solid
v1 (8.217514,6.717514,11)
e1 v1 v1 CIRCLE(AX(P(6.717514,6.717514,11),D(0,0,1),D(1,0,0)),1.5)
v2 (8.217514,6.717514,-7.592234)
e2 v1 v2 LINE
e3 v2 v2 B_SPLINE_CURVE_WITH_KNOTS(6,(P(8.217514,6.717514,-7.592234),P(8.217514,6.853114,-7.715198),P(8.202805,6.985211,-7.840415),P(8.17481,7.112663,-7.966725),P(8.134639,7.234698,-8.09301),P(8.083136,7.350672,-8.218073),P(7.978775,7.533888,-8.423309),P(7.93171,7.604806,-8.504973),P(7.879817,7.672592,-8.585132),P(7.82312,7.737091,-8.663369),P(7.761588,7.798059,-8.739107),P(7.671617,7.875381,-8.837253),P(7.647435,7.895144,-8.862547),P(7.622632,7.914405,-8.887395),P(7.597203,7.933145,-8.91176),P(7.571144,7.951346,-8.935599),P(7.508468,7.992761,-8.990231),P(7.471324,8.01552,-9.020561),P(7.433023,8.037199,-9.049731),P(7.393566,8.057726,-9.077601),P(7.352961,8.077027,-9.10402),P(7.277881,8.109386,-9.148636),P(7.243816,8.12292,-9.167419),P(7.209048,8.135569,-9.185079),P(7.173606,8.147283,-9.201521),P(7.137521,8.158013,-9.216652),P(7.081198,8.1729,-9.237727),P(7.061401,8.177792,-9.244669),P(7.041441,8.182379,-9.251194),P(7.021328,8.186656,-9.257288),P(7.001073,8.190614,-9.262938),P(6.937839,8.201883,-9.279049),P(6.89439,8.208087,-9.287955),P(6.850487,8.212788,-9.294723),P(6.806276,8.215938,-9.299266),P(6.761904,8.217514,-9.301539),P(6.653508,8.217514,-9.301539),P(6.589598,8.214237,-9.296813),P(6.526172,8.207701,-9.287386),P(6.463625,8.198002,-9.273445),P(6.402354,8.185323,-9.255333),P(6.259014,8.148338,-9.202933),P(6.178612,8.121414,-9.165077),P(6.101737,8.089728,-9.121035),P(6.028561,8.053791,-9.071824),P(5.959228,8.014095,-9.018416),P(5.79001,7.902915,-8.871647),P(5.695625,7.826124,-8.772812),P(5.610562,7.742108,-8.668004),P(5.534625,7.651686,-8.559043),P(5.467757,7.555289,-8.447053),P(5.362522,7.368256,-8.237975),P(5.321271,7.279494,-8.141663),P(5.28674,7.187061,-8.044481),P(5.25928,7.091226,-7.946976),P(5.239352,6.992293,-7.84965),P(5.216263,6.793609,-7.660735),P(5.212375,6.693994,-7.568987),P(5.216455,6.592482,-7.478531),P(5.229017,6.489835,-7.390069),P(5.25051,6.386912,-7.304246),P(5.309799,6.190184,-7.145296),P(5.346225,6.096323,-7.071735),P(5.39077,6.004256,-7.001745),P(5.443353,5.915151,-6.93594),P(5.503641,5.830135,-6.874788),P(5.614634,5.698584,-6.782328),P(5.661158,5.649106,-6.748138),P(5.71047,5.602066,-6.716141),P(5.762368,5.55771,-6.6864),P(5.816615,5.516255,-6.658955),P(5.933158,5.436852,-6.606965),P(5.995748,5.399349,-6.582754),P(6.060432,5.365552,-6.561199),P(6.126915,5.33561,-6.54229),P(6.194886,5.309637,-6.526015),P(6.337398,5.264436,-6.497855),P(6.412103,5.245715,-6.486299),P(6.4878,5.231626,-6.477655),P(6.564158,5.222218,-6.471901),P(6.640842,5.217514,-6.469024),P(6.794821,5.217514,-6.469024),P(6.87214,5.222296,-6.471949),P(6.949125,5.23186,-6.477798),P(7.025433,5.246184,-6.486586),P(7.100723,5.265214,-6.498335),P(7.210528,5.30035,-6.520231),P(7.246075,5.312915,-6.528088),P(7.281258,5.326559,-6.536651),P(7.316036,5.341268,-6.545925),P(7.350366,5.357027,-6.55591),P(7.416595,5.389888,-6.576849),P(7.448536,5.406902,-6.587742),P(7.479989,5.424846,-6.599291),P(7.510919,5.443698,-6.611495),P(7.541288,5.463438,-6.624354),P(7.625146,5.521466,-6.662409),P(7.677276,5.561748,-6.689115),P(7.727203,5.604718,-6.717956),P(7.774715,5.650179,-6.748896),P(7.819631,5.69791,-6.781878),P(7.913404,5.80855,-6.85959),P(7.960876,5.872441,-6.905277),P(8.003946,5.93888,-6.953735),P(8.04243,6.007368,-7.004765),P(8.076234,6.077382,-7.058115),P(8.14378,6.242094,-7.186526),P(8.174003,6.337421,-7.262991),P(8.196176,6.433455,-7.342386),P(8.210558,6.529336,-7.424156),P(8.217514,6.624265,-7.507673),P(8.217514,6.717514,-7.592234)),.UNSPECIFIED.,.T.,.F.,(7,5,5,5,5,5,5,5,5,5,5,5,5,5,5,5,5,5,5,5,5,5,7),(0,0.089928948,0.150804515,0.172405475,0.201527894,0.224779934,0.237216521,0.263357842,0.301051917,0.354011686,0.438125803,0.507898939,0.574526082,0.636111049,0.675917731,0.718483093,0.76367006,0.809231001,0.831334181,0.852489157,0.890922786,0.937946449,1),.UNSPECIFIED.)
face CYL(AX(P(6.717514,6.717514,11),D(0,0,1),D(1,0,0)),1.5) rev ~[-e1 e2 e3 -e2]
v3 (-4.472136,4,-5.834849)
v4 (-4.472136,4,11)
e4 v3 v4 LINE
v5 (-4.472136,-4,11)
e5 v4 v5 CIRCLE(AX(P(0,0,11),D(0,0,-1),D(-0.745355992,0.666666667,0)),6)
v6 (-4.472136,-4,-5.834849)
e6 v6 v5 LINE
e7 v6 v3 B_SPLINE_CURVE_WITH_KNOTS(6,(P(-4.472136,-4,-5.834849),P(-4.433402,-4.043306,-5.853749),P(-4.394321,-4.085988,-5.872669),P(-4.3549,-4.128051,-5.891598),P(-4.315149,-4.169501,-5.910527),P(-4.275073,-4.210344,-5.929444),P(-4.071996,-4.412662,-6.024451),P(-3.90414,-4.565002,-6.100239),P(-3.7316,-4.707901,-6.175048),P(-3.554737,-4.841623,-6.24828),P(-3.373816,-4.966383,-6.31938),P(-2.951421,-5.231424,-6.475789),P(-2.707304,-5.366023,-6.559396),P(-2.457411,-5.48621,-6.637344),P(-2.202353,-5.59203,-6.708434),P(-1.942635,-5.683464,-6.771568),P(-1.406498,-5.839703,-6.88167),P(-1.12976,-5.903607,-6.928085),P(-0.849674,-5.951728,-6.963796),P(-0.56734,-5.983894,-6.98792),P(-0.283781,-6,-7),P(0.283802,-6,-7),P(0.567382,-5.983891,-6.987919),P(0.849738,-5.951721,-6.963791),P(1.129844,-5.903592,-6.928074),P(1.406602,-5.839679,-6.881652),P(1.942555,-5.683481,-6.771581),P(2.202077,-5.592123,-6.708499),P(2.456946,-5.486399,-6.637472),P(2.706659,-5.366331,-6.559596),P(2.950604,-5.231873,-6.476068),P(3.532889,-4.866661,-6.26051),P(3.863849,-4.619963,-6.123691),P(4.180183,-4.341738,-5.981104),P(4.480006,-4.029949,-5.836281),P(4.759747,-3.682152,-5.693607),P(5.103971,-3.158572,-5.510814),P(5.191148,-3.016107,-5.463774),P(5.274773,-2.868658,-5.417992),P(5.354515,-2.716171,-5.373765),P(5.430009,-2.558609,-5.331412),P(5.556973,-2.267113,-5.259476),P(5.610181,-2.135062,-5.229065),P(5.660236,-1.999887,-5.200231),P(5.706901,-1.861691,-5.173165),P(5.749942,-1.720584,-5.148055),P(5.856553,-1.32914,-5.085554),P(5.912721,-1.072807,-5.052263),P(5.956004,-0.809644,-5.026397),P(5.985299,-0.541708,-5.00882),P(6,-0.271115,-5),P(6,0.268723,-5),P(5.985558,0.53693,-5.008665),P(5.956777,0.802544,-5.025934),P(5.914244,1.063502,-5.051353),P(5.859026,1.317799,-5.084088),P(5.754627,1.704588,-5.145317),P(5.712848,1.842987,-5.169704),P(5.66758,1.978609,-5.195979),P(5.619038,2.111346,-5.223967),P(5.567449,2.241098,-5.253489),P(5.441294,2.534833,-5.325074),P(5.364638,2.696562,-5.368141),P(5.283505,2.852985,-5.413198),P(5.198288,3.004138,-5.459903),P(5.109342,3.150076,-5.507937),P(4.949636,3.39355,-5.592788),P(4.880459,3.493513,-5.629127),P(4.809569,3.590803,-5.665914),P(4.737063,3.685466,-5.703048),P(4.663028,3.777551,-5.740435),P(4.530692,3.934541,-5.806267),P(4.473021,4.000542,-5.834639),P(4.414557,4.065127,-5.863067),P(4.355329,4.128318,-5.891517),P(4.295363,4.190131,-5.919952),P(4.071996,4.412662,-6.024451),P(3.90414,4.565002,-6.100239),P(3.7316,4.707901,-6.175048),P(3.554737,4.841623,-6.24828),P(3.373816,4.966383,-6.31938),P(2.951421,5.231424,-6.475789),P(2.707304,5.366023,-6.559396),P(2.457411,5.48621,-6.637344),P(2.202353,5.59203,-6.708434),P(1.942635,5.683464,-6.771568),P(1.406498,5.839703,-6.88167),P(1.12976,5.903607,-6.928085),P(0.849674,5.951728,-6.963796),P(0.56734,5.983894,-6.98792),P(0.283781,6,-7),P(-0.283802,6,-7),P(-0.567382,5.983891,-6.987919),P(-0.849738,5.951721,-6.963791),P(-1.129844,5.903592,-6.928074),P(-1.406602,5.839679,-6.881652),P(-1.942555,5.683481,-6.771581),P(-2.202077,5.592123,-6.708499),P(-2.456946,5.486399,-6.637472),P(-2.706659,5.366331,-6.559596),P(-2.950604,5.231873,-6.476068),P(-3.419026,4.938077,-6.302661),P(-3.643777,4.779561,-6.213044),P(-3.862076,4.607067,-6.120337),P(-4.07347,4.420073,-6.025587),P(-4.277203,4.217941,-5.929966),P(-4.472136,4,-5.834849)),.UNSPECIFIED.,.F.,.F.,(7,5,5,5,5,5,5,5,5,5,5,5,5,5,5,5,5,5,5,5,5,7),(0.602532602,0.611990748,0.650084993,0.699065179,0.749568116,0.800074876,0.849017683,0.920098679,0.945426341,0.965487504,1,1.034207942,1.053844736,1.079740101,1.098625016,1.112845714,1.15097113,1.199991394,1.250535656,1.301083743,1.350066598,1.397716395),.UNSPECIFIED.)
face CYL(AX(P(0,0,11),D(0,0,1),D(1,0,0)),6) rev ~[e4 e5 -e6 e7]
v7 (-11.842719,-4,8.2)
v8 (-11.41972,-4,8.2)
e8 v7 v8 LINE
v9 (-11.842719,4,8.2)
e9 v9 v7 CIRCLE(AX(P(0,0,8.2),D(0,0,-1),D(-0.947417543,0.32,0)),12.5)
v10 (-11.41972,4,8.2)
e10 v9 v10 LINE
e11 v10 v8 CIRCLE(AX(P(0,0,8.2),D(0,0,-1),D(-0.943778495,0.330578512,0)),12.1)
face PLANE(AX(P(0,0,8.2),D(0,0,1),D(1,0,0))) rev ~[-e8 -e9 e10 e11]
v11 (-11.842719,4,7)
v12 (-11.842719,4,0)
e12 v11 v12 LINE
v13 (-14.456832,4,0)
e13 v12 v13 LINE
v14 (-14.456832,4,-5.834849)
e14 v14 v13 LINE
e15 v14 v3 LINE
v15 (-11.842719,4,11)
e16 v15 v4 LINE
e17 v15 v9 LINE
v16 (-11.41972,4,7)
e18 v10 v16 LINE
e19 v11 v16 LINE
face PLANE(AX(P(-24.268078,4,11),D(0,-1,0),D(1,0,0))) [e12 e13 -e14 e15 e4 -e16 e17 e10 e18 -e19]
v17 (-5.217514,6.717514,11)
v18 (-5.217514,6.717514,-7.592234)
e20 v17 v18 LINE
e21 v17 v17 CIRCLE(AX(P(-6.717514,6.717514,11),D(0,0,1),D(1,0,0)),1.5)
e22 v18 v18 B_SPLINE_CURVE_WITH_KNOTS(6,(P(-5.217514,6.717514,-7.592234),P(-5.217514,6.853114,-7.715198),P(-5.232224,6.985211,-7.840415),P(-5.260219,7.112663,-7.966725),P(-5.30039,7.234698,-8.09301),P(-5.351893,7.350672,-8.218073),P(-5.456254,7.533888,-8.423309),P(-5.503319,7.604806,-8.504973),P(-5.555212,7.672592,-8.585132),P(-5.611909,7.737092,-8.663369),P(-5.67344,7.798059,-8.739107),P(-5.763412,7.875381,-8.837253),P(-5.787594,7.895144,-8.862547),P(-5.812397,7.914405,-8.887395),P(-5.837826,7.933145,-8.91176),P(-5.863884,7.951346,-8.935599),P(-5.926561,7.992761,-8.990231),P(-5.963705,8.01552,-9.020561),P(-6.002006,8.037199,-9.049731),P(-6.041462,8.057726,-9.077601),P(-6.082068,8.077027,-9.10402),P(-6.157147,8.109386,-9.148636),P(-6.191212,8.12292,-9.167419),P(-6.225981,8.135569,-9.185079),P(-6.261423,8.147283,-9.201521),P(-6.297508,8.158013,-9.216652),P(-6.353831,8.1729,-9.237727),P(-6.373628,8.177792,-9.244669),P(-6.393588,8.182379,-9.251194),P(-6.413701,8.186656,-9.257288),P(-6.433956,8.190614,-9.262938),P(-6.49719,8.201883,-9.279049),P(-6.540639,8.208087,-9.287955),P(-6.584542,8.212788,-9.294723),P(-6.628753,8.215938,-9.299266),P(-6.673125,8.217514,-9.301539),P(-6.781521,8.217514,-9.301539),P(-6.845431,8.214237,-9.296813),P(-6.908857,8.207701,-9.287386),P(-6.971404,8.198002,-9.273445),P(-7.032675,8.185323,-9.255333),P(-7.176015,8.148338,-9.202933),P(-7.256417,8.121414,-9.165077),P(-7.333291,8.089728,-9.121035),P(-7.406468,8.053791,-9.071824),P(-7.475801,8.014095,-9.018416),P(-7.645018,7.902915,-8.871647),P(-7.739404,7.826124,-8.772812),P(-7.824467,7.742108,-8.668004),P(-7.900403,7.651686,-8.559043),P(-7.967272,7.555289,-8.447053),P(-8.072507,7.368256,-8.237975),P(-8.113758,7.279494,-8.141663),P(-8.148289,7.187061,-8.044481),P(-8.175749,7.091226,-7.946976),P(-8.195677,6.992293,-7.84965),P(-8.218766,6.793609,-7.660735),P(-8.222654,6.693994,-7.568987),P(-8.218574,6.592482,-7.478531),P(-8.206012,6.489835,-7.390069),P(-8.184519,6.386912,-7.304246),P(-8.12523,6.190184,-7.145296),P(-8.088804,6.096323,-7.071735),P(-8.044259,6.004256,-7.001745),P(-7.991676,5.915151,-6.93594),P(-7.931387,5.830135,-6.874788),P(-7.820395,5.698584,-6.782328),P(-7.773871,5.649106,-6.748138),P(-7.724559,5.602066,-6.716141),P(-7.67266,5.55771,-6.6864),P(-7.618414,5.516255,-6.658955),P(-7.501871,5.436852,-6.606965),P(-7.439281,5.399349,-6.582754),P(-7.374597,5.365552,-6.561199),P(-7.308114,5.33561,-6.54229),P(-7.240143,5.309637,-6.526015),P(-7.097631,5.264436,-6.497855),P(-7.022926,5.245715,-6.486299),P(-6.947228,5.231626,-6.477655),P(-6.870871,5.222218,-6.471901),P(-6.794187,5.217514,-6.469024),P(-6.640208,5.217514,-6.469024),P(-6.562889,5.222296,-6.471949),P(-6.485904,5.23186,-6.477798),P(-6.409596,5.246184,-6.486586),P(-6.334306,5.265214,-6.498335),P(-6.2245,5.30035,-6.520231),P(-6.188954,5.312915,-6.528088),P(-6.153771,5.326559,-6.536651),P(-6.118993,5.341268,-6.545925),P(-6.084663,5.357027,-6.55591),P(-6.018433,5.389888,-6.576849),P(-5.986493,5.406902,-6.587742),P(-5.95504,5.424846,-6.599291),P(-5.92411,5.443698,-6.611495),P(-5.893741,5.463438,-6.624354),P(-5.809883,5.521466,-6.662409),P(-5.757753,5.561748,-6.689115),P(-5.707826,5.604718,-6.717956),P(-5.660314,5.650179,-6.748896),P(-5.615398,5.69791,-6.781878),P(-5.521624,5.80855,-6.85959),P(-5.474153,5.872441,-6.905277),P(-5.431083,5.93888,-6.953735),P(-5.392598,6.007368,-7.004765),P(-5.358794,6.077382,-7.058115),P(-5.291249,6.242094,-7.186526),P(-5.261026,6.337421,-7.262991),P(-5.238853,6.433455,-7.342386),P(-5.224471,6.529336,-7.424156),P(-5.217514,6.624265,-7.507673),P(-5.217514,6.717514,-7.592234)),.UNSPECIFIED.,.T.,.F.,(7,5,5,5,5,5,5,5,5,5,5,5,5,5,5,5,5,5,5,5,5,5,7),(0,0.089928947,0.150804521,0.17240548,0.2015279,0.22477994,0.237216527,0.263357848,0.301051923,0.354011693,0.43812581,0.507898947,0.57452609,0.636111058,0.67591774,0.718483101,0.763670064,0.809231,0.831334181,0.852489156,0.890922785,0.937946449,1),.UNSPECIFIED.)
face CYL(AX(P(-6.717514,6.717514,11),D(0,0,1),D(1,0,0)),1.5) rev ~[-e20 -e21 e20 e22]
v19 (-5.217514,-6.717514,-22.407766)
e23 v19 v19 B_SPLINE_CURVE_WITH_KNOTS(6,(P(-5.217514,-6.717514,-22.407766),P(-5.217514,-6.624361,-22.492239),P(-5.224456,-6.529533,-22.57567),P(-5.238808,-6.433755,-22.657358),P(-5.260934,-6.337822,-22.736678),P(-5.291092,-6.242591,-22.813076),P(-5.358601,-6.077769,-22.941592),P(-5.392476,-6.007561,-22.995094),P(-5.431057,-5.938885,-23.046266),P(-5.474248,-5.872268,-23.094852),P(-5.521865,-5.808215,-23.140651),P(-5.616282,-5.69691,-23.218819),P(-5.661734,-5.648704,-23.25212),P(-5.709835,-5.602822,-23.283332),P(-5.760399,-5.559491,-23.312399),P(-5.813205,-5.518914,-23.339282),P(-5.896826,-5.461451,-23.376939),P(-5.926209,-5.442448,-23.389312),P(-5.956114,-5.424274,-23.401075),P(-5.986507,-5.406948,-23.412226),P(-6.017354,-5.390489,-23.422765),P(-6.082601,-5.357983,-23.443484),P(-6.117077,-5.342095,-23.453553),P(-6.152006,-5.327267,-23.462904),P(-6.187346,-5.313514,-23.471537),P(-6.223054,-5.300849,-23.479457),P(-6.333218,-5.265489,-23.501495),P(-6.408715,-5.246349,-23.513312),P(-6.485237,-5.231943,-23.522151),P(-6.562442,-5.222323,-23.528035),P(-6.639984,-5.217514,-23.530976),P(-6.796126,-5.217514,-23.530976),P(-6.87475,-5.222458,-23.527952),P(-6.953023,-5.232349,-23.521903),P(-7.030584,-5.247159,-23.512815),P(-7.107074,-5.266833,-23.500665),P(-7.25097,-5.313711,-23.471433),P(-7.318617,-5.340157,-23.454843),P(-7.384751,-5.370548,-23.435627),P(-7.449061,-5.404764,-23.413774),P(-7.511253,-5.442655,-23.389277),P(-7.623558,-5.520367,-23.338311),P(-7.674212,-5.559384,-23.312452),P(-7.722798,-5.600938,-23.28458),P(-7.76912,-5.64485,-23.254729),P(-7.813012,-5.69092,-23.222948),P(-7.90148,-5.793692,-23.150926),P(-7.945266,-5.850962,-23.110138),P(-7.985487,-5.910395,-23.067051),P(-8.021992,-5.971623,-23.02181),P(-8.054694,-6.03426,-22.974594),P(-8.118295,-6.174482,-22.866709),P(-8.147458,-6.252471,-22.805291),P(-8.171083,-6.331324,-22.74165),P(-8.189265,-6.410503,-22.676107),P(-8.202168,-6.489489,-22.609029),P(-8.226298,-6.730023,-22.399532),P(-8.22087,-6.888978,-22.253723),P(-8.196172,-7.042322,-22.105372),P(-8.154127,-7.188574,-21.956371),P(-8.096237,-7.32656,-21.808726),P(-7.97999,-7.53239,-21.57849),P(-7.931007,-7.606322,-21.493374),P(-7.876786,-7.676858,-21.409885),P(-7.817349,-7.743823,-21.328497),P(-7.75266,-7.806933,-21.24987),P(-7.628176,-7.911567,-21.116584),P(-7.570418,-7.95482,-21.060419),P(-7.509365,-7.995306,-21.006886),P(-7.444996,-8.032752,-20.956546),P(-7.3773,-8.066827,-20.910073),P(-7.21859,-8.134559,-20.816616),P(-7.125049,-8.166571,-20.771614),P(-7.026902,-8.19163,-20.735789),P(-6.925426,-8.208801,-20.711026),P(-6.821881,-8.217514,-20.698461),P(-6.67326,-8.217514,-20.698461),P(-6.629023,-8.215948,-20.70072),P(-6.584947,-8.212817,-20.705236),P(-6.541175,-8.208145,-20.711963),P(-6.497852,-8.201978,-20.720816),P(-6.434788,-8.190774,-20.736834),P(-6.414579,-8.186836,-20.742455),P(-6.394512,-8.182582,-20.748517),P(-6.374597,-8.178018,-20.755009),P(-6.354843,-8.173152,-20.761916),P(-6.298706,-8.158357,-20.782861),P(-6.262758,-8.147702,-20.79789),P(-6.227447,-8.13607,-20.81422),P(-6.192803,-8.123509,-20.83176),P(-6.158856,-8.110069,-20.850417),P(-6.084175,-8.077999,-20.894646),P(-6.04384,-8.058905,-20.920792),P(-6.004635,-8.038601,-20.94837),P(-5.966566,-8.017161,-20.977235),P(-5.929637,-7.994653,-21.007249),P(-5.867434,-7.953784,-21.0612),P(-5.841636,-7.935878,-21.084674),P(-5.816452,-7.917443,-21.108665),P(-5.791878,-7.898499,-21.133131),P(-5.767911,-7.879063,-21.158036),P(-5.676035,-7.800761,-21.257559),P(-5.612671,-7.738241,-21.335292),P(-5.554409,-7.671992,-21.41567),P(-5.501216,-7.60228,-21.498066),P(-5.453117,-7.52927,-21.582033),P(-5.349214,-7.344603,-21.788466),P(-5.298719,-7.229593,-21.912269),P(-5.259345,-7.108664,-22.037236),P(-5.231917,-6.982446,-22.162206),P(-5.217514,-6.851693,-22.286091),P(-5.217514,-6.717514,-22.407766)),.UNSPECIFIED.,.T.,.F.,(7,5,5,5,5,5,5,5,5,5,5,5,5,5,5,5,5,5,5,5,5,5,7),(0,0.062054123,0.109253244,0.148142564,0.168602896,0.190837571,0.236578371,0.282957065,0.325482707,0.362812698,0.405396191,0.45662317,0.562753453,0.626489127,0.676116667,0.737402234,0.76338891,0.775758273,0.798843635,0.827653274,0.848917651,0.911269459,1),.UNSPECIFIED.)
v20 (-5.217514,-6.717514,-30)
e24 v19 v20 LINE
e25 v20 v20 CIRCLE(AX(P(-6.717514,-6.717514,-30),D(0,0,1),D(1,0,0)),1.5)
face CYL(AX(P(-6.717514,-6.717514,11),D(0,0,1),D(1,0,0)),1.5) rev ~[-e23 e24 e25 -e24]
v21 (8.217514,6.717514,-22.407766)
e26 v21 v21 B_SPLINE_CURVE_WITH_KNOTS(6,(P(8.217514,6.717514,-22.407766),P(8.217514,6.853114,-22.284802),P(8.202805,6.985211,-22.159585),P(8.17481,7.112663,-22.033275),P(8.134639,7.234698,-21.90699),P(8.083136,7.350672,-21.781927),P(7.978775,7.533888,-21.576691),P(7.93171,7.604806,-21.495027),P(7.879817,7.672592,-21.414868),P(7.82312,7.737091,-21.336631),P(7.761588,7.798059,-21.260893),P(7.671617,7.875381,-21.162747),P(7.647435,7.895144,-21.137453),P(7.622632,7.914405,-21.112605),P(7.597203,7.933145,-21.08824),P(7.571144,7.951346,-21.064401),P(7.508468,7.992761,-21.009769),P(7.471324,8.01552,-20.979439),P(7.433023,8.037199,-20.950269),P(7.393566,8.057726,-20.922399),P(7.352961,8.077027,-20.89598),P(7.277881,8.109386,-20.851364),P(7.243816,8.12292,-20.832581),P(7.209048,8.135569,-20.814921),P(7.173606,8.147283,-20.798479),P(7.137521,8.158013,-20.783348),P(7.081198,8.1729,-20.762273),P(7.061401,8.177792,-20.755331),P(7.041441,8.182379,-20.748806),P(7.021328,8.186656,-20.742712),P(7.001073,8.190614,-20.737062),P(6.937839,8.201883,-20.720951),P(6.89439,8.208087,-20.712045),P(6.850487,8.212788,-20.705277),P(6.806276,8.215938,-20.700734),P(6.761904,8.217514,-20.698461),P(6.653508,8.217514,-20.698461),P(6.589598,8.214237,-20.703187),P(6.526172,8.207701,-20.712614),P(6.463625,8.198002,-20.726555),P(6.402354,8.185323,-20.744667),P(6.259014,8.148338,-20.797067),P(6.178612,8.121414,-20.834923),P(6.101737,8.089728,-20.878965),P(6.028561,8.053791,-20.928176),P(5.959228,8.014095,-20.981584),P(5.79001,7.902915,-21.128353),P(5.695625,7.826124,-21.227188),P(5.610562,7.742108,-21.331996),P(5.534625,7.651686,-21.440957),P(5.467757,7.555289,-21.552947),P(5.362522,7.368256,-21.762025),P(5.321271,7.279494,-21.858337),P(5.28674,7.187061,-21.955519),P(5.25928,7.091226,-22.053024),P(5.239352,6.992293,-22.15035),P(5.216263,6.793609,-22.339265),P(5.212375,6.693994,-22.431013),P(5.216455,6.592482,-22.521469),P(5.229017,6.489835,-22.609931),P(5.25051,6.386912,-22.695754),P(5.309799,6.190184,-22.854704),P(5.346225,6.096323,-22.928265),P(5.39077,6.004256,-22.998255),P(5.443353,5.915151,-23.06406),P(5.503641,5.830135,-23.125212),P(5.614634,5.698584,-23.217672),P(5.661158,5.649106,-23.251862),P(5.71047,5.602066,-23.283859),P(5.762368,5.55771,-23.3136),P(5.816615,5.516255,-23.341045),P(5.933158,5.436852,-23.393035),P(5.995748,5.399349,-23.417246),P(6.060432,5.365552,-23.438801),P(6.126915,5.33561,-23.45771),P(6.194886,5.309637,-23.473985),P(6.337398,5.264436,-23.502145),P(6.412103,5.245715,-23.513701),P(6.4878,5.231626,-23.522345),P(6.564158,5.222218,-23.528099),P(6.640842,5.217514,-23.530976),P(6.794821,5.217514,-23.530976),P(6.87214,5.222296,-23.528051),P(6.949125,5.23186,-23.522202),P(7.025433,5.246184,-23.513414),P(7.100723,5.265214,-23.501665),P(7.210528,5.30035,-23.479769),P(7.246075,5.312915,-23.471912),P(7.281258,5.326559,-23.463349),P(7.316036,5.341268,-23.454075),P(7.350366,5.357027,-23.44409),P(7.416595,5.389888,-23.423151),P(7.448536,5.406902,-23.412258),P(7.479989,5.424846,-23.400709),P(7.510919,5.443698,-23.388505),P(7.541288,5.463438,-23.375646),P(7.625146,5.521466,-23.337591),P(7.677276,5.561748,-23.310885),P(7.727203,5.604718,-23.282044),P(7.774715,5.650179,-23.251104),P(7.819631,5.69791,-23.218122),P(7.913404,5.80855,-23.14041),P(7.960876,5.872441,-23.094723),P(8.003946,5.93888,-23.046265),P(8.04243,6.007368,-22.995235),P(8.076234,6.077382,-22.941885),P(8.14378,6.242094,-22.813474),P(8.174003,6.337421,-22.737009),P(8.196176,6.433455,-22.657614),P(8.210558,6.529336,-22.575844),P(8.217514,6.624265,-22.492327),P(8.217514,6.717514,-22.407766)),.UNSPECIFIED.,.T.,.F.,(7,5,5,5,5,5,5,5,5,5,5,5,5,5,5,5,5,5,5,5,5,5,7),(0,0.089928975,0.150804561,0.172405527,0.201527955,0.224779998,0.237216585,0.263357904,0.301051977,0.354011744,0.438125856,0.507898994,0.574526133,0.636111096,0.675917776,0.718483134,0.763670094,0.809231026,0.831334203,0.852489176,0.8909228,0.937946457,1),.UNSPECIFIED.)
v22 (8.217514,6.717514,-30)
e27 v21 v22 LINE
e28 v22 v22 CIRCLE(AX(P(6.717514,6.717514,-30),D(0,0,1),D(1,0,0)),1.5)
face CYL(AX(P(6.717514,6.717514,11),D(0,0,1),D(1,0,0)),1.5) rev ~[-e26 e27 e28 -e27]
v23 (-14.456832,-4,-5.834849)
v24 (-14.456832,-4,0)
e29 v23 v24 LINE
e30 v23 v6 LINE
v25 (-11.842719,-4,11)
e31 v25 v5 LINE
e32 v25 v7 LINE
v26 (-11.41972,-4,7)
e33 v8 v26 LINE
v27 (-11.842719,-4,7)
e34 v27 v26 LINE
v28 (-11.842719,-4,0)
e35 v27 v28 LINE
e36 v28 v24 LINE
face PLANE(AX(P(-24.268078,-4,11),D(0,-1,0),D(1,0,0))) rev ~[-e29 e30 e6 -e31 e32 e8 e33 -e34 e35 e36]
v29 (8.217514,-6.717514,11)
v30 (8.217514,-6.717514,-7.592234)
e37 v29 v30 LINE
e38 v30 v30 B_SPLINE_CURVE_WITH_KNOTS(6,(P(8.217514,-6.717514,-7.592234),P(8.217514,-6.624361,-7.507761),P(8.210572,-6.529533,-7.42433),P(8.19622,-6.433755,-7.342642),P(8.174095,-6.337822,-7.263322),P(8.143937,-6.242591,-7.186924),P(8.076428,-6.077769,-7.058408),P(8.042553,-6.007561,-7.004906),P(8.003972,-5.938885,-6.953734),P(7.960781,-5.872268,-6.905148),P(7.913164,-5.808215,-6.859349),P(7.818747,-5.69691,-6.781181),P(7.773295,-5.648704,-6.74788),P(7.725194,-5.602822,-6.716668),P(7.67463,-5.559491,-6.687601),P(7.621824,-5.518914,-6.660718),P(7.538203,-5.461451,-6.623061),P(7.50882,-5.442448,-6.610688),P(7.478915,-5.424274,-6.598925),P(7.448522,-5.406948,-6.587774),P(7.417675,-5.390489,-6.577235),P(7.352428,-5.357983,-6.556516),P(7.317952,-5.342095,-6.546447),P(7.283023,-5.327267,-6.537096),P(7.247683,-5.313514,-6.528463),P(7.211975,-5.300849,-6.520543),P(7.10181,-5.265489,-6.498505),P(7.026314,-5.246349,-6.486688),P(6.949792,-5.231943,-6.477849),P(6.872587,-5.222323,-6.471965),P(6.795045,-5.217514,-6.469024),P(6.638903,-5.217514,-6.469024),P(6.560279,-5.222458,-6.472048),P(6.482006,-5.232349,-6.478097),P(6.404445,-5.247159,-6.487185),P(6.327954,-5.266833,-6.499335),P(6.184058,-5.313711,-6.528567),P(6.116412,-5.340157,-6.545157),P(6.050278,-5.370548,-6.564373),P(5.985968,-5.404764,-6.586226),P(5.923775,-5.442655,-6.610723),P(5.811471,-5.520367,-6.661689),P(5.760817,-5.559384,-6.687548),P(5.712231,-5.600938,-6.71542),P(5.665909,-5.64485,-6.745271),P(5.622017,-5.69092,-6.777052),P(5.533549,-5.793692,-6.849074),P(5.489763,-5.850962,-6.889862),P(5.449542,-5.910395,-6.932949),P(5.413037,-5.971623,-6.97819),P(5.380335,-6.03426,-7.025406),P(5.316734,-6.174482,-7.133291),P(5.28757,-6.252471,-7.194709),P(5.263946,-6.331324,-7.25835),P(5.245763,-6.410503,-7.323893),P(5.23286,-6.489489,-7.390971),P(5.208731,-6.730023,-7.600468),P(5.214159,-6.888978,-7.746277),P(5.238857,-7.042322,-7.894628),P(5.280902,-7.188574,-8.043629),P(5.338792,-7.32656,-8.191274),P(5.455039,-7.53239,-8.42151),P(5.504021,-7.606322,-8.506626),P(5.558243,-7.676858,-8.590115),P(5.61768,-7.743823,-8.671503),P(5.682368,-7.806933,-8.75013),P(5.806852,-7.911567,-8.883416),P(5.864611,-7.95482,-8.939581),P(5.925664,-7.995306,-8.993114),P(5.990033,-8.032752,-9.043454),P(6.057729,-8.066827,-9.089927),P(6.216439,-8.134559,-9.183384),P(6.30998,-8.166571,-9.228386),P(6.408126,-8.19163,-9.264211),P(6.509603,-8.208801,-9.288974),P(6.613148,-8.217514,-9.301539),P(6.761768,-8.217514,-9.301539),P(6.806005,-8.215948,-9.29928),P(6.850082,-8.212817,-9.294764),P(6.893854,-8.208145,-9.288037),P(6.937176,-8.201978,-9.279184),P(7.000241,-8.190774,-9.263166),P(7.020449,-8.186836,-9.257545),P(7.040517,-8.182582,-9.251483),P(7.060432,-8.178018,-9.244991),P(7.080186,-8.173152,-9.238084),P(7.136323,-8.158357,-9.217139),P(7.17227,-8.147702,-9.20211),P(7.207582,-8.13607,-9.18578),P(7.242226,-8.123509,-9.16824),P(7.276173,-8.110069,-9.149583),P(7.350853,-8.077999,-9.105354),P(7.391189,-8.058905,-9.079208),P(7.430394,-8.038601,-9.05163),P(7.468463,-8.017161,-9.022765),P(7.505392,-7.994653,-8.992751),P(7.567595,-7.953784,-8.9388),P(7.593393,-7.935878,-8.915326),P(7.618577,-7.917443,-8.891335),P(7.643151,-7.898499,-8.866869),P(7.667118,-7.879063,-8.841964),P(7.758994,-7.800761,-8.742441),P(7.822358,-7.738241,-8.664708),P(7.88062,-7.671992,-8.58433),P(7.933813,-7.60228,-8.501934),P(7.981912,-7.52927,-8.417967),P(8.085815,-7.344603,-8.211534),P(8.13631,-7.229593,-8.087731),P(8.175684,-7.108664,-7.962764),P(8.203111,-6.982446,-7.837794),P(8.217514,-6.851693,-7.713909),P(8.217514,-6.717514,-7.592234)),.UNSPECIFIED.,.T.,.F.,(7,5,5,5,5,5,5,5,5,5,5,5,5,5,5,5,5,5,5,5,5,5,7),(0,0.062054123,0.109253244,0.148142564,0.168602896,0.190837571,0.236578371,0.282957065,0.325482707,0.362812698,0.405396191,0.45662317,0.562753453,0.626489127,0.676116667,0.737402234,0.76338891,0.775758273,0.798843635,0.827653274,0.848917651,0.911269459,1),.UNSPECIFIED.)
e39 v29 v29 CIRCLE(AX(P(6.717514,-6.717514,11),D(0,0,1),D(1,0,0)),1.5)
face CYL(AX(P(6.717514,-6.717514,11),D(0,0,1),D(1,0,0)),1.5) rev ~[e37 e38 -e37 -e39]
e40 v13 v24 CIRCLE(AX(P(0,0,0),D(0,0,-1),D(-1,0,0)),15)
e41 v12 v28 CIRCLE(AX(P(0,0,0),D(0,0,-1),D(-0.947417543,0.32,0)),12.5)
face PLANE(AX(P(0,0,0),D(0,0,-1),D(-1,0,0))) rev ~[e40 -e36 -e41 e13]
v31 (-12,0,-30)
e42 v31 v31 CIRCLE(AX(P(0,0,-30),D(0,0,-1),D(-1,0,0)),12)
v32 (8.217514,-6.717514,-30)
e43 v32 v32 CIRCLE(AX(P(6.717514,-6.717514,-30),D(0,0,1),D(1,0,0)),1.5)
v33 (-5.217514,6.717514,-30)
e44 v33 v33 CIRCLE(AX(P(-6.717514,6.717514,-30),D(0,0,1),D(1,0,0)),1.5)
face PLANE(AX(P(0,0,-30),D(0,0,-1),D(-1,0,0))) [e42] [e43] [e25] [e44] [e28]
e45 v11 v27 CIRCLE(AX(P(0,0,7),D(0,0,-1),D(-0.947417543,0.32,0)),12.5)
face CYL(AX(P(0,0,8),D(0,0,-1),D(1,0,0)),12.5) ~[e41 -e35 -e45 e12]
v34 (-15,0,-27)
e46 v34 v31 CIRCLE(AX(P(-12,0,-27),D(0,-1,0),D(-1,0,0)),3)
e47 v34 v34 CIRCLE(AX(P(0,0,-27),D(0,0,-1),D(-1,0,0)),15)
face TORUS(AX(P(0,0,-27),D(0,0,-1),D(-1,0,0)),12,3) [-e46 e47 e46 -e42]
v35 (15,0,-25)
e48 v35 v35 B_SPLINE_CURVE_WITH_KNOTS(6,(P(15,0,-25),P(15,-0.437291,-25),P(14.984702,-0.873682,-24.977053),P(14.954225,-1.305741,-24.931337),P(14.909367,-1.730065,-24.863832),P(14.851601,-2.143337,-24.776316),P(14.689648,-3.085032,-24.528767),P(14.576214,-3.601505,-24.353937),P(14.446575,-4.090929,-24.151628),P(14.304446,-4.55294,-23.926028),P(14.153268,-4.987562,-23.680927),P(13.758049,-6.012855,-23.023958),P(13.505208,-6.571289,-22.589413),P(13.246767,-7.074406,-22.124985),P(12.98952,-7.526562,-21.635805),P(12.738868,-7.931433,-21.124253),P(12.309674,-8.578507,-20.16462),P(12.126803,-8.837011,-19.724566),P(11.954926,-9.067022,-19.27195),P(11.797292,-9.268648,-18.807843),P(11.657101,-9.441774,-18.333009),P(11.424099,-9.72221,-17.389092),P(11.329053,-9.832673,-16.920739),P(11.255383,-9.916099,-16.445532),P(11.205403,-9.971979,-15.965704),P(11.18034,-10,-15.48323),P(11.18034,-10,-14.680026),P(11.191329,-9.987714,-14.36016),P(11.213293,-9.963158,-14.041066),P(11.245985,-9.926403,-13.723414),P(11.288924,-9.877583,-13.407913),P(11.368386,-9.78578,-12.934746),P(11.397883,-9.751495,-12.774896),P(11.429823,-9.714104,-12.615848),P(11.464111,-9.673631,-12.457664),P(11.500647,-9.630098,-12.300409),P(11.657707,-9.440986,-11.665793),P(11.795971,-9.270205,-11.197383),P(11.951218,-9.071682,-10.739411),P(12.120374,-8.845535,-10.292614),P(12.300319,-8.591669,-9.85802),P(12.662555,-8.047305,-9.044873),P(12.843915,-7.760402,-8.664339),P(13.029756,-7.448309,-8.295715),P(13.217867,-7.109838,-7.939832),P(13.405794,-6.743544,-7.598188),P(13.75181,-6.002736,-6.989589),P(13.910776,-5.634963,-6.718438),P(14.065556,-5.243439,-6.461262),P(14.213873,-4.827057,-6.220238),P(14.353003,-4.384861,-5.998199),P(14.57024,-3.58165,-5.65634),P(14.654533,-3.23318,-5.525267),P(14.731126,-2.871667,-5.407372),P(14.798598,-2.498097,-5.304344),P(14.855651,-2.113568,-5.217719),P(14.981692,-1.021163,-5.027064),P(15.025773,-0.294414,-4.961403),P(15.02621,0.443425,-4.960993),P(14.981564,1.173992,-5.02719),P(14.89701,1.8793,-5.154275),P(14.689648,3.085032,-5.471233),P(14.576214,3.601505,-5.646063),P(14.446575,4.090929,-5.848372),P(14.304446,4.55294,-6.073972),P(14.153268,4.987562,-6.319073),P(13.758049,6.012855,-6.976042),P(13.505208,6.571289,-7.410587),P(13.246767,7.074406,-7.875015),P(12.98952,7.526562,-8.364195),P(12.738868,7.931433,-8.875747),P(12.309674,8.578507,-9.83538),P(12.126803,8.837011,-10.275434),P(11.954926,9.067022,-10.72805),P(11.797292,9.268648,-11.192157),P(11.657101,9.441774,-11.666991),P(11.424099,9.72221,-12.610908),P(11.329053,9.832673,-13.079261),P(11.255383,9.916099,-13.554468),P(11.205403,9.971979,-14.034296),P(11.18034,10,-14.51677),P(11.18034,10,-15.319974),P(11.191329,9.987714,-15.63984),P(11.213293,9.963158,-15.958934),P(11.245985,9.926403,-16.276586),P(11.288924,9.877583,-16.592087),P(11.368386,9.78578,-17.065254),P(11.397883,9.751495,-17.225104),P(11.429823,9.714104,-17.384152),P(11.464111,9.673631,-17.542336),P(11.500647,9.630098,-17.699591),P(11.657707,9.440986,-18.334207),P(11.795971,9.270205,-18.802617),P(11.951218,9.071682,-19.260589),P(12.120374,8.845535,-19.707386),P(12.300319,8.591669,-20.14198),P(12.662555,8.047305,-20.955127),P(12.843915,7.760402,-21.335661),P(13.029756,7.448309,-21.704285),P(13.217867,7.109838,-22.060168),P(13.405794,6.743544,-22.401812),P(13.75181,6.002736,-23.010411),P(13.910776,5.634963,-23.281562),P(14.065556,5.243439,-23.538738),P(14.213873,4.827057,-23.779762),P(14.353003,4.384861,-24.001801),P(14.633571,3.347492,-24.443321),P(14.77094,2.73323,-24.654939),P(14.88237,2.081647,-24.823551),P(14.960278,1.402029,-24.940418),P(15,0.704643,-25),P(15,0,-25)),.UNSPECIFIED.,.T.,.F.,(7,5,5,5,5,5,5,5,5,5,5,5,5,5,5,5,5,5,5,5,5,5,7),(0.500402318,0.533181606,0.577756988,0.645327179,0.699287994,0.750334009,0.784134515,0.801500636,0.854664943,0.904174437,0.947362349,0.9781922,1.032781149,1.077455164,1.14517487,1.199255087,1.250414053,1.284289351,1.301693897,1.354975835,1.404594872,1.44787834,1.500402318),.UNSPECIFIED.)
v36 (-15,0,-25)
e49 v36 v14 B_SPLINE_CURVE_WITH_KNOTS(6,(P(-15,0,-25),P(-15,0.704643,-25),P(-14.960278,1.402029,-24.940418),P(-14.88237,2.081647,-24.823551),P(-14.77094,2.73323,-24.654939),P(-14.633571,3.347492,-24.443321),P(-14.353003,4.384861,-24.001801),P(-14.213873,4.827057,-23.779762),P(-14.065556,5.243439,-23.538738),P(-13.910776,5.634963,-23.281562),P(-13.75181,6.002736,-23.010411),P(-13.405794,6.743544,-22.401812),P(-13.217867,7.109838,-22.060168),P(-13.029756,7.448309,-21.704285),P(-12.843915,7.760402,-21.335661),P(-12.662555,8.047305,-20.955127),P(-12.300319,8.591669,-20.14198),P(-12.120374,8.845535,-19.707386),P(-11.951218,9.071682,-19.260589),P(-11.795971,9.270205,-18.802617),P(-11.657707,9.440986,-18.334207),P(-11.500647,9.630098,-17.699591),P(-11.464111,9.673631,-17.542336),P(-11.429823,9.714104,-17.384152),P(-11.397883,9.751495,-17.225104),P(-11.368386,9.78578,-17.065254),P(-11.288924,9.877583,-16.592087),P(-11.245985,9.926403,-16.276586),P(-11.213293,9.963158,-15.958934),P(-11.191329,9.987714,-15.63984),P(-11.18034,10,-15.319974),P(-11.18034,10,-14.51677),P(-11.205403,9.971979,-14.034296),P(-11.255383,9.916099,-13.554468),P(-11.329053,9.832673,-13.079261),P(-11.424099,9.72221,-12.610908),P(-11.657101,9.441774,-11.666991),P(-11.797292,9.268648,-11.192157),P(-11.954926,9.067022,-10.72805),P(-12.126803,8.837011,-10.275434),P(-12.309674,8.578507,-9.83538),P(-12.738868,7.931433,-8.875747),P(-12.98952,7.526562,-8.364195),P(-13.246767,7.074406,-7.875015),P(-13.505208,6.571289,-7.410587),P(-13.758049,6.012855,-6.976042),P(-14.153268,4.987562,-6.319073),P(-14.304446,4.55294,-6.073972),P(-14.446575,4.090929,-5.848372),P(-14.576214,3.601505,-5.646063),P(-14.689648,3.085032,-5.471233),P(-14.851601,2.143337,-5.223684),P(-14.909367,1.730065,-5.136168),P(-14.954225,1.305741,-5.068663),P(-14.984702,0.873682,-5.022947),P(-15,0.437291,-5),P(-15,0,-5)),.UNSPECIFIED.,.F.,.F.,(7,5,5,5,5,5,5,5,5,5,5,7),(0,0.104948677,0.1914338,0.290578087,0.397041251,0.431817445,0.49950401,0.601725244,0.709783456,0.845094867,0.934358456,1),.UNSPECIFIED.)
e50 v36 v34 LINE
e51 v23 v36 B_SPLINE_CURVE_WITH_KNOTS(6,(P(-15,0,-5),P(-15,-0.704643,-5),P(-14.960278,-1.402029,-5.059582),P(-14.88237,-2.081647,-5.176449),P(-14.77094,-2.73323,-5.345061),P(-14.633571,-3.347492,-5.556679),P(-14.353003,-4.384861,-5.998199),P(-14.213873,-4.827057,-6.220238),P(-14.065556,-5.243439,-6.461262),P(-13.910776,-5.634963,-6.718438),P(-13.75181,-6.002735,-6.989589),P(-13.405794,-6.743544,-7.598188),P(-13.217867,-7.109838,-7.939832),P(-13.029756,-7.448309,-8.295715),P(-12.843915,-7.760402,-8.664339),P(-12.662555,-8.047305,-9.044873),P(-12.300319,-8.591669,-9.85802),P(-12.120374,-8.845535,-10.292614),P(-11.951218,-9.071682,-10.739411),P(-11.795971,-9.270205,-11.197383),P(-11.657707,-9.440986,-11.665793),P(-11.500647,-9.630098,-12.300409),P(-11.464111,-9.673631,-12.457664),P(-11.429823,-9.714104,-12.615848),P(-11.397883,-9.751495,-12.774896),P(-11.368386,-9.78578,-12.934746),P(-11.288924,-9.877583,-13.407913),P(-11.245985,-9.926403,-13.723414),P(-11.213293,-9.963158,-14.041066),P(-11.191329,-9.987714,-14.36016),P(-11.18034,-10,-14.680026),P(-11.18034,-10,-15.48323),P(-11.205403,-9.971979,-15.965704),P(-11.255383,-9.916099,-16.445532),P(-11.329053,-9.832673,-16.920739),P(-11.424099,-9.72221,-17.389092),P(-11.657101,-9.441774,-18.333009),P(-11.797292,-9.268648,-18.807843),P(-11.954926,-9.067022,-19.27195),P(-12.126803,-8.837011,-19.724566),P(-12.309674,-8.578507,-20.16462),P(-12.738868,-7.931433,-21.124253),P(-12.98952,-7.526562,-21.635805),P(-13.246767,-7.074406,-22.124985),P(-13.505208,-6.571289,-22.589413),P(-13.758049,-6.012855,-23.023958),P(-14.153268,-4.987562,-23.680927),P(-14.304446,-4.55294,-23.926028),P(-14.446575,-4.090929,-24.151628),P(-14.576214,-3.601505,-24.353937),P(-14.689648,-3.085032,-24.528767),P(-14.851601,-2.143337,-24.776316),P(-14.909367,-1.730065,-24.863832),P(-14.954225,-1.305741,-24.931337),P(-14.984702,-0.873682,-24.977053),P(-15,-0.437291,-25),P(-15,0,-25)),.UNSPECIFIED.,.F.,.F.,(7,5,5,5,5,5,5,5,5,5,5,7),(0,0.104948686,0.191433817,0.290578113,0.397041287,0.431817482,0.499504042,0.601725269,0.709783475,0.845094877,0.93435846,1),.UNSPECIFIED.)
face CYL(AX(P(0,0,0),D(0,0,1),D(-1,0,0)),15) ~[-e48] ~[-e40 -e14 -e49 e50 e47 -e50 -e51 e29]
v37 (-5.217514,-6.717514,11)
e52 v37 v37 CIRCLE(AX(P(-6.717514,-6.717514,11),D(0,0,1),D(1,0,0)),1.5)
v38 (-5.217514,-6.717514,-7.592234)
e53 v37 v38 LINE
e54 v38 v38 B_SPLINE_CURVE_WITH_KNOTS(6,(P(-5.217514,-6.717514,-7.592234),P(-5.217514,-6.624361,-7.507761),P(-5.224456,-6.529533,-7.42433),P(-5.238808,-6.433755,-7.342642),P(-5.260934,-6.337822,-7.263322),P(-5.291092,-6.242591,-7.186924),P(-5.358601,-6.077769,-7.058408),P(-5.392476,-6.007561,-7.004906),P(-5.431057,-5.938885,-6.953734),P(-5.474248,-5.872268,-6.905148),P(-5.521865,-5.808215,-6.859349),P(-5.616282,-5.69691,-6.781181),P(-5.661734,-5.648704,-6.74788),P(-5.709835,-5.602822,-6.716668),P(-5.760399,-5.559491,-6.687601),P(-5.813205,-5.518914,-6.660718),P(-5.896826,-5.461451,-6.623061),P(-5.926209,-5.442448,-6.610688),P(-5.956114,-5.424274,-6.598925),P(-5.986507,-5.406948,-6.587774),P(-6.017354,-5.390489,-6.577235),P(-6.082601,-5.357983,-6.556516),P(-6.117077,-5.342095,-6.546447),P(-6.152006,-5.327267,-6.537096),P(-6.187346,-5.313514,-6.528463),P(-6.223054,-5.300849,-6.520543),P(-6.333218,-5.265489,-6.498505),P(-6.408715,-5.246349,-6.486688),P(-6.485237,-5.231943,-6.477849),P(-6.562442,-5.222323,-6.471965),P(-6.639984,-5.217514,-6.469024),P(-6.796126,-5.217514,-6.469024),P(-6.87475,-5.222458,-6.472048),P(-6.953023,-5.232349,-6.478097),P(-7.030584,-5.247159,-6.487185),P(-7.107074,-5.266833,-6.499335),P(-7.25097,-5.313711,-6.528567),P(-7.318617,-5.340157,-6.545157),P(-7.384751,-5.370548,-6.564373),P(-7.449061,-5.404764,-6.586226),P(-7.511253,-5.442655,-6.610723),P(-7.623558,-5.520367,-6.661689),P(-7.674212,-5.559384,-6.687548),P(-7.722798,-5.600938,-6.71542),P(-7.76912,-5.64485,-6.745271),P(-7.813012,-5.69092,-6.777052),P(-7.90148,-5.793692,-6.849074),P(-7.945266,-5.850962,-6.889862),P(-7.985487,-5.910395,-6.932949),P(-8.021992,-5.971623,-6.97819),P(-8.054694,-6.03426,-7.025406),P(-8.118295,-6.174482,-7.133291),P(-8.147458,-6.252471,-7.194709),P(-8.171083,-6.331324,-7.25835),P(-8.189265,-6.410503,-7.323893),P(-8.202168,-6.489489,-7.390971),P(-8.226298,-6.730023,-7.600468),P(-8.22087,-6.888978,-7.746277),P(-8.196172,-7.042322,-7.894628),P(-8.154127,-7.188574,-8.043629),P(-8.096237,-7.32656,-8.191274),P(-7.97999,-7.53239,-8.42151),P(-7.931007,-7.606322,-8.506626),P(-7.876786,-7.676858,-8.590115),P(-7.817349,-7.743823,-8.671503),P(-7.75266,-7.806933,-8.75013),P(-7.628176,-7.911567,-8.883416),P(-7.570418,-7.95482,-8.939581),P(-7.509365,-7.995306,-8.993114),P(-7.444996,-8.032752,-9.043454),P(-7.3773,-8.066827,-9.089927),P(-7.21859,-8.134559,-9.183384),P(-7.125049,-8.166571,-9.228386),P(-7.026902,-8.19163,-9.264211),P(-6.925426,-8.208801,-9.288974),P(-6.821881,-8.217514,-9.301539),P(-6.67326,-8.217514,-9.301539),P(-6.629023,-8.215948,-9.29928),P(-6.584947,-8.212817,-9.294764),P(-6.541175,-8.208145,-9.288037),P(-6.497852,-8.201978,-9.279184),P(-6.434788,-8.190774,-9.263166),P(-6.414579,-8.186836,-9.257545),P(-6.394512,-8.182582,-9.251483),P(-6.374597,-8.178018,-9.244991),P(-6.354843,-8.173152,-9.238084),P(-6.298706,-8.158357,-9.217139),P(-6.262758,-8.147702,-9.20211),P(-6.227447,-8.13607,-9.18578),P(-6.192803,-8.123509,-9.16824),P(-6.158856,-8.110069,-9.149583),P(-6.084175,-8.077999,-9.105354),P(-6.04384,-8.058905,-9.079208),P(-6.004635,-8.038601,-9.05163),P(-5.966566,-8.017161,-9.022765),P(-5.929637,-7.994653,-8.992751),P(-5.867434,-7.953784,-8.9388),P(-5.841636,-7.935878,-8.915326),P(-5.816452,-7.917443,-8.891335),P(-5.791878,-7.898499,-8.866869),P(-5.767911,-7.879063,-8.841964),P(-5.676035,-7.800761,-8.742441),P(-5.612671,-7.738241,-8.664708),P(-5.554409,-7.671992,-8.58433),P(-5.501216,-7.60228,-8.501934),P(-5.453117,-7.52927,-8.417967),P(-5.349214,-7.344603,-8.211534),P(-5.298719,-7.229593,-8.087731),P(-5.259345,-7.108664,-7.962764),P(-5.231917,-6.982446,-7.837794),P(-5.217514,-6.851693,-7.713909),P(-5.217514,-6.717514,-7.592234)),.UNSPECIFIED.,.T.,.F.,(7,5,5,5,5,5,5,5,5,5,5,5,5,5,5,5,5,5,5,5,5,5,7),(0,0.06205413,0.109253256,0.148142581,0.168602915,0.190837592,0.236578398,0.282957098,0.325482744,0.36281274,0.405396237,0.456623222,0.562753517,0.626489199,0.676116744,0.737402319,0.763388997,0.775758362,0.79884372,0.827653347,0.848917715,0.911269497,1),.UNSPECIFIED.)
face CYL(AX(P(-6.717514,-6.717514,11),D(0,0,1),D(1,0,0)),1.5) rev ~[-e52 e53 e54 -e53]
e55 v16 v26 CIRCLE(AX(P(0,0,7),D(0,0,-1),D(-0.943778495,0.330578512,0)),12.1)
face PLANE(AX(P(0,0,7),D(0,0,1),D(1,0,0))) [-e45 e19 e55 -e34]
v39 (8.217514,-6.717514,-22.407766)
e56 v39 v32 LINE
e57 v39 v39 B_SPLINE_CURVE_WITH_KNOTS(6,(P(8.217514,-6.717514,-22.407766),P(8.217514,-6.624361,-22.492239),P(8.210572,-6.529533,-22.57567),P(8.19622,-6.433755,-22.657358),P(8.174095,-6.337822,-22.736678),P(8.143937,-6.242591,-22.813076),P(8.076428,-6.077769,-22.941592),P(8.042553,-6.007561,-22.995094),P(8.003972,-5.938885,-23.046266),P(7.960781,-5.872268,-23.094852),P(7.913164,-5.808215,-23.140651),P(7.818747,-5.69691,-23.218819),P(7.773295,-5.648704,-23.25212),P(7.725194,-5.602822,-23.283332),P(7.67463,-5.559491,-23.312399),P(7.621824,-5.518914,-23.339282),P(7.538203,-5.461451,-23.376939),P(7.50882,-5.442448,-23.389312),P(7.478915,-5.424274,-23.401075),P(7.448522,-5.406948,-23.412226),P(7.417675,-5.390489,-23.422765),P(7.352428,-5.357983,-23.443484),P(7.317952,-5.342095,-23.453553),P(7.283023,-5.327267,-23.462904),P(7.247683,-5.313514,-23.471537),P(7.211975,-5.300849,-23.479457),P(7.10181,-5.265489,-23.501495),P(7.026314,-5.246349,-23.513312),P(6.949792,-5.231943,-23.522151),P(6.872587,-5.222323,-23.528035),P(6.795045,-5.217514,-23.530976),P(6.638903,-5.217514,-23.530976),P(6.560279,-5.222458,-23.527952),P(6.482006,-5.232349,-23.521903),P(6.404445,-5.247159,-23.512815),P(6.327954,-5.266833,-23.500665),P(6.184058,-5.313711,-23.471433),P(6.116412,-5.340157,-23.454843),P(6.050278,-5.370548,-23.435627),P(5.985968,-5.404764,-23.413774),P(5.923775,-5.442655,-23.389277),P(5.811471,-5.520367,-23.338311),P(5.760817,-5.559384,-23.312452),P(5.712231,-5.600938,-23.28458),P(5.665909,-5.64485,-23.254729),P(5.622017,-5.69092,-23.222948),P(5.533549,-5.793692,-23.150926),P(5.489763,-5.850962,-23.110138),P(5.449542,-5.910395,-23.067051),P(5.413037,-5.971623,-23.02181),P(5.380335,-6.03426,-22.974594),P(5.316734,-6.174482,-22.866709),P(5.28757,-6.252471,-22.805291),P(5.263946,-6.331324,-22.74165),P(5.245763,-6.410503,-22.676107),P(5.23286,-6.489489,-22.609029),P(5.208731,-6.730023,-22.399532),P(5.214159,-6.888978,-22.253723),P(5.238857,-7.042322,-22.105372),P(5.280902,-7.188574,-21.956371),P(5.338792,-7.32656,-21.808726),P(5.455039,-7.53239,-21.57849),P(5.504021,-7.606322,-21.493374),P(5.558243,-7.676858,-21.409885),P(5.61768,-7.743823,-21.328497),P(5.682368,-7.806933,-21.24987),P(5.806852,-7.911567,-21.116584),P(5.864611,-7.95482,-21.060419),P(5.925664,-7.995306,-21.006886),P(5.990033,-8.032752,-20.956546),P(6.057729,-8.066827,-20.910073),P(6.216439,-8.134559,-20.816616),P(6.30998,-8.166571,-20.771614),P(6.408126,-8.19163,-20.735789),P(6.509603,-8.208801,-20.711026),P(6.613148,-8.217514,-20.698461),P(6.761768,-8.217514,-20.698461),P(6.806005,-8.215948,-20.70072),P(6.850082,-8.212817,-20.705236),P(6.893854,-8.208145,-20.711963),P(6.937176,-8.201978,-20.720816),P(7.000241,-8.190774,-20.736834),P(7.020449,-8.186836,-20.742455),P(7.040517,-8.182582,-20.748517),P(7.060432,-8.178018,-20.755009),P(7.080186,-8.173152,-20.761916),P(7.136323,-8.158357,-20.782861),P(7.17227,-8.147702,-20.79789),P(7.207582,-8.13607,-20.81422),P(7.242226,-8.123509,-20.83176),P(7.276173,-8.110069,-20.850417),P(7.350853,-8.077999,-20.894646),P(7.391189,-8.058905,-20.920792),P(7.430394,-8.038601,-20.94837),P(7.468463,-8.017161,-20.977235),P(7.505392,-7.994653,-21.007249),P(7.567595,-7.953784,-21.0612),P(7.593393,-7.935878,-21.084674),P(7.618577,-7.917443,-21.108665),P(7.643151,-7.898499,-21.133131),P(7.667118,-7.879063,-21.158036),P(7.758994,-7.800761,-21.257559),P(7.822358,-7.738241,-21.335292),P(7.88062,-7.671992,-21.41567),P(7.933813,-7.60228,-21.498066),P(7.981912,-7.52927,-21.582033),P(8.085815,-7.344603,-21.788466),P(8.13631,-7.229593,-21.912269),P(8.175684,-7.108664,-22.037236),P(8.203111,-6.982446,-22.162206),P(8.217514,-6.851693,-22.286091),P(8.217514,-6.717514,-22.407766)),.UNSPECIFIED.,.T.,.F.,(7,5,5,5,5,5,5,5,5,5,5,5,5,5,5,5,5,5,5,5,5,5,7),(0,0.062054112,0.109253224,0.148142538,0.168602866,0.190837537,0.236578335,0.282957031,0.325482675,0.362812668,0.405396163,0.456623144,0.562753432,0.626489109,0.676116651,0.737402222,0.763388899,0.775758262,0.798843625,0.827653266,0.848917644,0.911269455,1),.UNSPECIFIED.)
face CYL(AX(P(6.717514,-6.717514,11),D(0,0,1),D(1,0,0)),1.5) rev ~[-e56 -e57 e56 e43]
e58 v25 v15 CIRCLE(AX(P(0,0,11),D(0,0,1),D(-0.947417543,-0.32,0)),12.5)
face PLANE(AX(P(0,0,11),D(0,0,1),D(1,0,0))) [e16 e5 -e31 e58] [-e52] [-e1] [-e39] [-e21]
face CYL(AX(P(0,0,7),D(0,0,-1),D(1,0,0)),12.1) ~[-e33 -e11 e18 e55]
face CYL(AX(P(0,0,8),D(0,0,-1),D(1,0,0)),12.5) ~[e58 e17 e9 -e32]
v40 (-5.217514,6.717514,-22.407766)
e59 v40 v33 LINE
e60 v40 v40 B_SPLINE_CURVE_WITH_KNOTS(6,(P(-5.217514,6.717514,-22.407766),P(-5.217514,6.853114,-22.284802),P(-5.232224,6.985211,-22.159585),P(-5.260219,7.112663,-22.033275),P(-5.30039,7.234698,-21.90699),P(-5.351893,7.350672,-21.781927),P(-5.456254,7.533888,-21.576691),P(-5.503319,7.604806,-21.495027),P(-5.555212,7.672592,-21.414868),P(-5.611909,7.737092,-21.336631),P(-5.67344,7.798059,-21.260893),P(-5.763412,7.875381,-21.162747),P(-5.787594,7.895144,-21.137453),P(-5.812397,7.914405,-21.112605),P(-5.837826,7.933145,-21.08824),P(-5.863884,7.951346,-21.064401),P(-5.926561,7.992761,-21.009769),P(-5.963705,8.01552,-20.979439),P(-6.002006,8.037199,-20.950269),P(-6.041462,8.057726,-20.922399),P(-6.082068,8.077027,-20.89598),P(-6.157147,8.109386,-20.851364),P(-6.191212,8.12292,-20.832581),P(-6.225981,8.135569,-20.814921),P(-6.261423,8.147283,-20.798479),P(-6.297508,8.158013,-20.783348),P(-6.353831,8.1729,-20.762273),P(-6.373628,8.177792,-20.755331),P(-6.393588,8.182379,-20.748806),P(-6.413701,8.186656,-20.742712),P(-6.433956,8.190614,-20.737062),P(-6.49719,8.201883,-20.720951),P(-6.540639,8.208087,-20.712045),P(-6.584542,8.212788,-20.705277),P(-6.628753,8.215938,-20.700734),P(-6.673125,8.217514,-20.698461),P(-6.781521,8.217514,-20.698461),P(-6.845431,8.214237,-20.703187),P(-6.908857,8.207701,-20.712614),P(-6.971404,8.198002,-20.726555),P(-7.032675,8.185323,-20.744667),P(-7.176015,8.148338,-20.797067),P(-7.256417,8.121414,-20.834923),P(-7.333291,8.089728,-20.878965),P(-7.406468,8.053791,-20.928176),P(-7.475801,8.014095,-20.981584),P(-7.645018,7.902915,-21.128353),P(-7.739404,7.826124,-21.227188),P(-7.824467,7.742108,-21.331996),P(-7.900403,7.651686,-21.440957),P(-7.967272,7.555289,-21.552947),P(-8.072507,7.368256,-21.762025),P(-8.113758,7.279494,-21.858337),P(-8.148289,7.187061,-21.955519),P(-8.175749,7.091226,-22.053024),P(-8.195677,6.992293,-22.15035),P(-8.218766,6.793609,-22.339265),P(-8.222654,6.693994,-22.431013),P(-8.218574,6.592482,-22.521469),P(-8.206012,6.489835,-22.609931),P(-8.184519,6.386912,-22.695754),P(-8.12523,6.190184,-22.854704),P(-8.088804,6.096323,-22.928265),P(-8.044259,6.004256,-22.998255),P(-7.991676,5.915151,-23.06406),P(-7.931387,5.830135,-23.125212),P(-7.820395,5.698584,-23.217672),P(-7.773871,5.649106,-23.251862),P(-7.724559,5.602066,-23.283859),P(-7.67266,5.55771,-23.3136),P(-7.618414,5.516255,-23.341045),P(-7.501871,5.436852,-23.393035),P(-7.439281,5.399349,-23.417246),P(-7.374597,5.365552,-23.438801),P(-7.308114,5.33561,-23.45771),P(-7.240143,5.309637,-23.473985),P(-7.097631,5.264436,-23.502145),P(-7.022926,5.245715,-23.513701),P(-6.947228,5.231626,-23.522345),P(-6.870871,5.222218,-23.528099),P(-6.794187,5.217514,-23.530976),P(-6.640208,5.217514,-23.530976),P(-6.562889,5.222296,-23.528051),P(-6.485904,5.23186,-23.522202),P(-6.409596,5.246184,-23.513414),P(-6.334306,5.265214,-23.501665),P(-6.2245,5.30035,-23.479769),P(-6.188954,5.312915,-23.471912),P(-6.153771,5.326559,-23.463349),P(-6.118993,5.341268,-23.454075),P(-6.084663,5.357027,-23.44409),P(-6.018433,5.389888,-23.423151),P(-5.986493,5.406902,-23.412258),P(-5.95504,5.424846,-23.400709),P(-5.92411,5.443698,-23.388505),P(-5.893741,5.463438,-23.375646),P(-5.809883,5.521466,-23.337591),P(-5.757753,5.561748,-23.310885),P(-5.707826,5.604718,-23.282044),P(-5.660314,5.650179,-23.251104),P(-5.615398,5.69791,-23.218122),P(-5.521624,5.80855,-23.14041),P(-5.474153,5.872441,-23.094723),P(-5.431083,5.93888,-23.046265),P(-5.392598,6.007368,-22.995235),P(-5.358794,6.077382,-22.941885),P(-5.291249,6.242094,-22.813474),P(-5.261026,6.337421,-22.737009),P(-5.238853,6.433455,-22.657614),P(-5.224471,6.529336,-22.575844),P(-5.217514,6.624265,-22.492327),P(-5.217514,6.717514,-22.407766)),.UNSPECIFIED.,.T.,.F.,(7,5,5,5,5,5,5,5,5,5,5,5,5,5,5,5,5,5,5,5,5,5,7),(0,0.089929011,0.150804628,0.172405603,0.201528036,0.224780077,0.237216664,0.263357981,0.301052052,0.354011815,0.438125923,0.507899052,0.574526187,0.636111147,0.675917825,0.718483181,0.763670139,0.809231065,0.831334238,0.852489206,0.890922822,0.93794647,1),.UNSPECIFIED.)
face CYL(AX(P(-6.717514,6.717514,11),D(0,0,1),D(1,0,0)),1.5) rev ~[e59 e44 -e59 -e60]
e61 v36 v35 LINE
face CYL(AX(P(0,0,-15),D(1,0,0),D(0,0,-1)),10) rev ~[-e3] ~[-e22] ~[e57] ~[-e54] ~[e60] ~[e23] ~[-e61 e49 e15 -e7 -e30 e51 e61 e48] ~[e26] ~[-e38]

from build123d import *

# Parameters (mm, degrees)
SKETCH_1_R          = 12.5
EXTRUDE_1_DEPTH     = 8
SKETCH_2_R          = 15
EXTRUDE_2_DEPTH     = 30
SKETCH_3_R          = 10
CUT_EXTRUDE_1_DEPTH = 15
SKETCH_5_R          = 12.5
EXTRUDE_3_DEPTH     = 3
SKETCH_6_R          = 12.5
SKETCH_6_R_2        = 12.1
CUT_EXTRUDE_2_DEPTH = 1.2
EXTRUDE_START       = 2
SKETCH_9_R          = 15
SKETCH_9_R_2        = 12.5
EXTRUDE_4_DEPTH     = 2
SKETCH_12_R         = 1.5
CUT_EXTRUDE_6_DEPTH = 47.162755705
SKETCH_13_R         = 6
CUT_EXTRUDE_7_DEPTH = 20
SKETCH_14_W         = 23.536155202
SKETCH_14_H         = 8
CUT_EXTRUDE_8_DEPTH = 20
FILLET_1_R          = 3


with BuildPart() as part:
    # 草图1 → 凸台-拉伸1 (new body)
    with BuildSketch(Plane.XY):
        Circle(SKETCH_1_R)
    extrude(amount=EXTRUDE_1_DEPTH)

    # 草图2 → 凸台-拉伸2 (add)
    with BuildSketch(Plane(origin=(0, 0, 0), x_dir=(-1, 0, 0), z_dir=(0, 0, -1))):
        Circle(SKETCH_2_R)
    extrude(amount=EXTRUDE_2_DEPTH)

    # 草图3 → 切除-拉伸1 (cut, symmetric)
    with BuildSketch(Plane(origin=(0, 0, 0), x_dir=(0, 0, -1), z_dir=(1, 0, 0))):
        with Locations((15, 0)):
            Circle(SKETCH_3_R)
    extrude(amount=CUT_EXTRUDE_1_DEPTH, both=True, mode=Mode.SUBTRACT)

    # 草图5 → 凸台-拉伸3 (add)
    with BuildSketch(Plane.XY.offset(8)):
        Circle(SKETCH_5_R)
    extrude(amount=EXTRUDE_3_DEPTH)

    # 草图6 → 切除-拉伸2 (cut)
    with BuildSketch(Plane.XY.offset(7)):
        Circle(SKETCH_6_R)
        Circle(SKETCH_6_R_2, mode=Mode.SUBTRACT)
    extrude(amount=CUT_EXTRUDE_2_DEPTH, mode=Mode.SUBTRACT)

    # 草图9 → 凸台-拉伸4 (add)
    with BuildSketch(Plane(origin=(0, 0, 0), x_dir=(-1, 0, 0), z_dir=(0, 0, -1)).offset(EXTRUDE_START)):
        Circle(SKETCH_9_R)
        with Locations(Location((0, 0, 0), (0, 0, 180))):
            Circle(SKETCH_9_R_2, mode=Mode.SUBTRACT)
    extrude(amount=-EXTRUDE_4_DEPTH)

    # 草图12 → 切除-拉伸6 (cut, through all)
    with BuildSketch(Plane.XY.offset(11)):
        with Locations((6.717514421, 6.717514421)):
            Circle(SKETCH_12_R)
        with Locations((6.717514421, -6.717514421)):
            Circle(SKETCH_12_R)
        with Locations((-6.717514421, -6.717514421)):
            Circle(SKETCH_12_R)
        with Locations((-6.717514421, 6.717514421)):
            Circle(SKETCH_12_R)
    extrude(amount=-CUT_EXTRUDE_6_DEPTH, mode=Mode.SUBTRACT)

    # 草图13 → 切除-拉伸7 (cut)
    with BuildSketch(Plane.XY.offset(11)):
        Circle(SKETCH_13_R)
    extrude(amount=-CUT_EXTRUDE_7_DEPTH, mode=Mode.SUBTRACT)

    # 草图14 → 切除-拉伸8 (cut)
    with BuildSketch(Plane.XY.offset(11)):
        with Locations((-12.5, 0)):
            Rectangle(SKETCH_14_W, SKETCH_14_H)
    extrude(amount=-CUT_EXTRUDE_8_DEPTH, mode=Mode.SUBTRACT)

    # 圆角1
    fillet_1_edges = [part.edges().sort_by_distance(p)[0] for p in [
        (15, 0, -30),
    ]]
    fillet(fillet_1_edges, radius=FILLET_1_R)


solid = part.part
